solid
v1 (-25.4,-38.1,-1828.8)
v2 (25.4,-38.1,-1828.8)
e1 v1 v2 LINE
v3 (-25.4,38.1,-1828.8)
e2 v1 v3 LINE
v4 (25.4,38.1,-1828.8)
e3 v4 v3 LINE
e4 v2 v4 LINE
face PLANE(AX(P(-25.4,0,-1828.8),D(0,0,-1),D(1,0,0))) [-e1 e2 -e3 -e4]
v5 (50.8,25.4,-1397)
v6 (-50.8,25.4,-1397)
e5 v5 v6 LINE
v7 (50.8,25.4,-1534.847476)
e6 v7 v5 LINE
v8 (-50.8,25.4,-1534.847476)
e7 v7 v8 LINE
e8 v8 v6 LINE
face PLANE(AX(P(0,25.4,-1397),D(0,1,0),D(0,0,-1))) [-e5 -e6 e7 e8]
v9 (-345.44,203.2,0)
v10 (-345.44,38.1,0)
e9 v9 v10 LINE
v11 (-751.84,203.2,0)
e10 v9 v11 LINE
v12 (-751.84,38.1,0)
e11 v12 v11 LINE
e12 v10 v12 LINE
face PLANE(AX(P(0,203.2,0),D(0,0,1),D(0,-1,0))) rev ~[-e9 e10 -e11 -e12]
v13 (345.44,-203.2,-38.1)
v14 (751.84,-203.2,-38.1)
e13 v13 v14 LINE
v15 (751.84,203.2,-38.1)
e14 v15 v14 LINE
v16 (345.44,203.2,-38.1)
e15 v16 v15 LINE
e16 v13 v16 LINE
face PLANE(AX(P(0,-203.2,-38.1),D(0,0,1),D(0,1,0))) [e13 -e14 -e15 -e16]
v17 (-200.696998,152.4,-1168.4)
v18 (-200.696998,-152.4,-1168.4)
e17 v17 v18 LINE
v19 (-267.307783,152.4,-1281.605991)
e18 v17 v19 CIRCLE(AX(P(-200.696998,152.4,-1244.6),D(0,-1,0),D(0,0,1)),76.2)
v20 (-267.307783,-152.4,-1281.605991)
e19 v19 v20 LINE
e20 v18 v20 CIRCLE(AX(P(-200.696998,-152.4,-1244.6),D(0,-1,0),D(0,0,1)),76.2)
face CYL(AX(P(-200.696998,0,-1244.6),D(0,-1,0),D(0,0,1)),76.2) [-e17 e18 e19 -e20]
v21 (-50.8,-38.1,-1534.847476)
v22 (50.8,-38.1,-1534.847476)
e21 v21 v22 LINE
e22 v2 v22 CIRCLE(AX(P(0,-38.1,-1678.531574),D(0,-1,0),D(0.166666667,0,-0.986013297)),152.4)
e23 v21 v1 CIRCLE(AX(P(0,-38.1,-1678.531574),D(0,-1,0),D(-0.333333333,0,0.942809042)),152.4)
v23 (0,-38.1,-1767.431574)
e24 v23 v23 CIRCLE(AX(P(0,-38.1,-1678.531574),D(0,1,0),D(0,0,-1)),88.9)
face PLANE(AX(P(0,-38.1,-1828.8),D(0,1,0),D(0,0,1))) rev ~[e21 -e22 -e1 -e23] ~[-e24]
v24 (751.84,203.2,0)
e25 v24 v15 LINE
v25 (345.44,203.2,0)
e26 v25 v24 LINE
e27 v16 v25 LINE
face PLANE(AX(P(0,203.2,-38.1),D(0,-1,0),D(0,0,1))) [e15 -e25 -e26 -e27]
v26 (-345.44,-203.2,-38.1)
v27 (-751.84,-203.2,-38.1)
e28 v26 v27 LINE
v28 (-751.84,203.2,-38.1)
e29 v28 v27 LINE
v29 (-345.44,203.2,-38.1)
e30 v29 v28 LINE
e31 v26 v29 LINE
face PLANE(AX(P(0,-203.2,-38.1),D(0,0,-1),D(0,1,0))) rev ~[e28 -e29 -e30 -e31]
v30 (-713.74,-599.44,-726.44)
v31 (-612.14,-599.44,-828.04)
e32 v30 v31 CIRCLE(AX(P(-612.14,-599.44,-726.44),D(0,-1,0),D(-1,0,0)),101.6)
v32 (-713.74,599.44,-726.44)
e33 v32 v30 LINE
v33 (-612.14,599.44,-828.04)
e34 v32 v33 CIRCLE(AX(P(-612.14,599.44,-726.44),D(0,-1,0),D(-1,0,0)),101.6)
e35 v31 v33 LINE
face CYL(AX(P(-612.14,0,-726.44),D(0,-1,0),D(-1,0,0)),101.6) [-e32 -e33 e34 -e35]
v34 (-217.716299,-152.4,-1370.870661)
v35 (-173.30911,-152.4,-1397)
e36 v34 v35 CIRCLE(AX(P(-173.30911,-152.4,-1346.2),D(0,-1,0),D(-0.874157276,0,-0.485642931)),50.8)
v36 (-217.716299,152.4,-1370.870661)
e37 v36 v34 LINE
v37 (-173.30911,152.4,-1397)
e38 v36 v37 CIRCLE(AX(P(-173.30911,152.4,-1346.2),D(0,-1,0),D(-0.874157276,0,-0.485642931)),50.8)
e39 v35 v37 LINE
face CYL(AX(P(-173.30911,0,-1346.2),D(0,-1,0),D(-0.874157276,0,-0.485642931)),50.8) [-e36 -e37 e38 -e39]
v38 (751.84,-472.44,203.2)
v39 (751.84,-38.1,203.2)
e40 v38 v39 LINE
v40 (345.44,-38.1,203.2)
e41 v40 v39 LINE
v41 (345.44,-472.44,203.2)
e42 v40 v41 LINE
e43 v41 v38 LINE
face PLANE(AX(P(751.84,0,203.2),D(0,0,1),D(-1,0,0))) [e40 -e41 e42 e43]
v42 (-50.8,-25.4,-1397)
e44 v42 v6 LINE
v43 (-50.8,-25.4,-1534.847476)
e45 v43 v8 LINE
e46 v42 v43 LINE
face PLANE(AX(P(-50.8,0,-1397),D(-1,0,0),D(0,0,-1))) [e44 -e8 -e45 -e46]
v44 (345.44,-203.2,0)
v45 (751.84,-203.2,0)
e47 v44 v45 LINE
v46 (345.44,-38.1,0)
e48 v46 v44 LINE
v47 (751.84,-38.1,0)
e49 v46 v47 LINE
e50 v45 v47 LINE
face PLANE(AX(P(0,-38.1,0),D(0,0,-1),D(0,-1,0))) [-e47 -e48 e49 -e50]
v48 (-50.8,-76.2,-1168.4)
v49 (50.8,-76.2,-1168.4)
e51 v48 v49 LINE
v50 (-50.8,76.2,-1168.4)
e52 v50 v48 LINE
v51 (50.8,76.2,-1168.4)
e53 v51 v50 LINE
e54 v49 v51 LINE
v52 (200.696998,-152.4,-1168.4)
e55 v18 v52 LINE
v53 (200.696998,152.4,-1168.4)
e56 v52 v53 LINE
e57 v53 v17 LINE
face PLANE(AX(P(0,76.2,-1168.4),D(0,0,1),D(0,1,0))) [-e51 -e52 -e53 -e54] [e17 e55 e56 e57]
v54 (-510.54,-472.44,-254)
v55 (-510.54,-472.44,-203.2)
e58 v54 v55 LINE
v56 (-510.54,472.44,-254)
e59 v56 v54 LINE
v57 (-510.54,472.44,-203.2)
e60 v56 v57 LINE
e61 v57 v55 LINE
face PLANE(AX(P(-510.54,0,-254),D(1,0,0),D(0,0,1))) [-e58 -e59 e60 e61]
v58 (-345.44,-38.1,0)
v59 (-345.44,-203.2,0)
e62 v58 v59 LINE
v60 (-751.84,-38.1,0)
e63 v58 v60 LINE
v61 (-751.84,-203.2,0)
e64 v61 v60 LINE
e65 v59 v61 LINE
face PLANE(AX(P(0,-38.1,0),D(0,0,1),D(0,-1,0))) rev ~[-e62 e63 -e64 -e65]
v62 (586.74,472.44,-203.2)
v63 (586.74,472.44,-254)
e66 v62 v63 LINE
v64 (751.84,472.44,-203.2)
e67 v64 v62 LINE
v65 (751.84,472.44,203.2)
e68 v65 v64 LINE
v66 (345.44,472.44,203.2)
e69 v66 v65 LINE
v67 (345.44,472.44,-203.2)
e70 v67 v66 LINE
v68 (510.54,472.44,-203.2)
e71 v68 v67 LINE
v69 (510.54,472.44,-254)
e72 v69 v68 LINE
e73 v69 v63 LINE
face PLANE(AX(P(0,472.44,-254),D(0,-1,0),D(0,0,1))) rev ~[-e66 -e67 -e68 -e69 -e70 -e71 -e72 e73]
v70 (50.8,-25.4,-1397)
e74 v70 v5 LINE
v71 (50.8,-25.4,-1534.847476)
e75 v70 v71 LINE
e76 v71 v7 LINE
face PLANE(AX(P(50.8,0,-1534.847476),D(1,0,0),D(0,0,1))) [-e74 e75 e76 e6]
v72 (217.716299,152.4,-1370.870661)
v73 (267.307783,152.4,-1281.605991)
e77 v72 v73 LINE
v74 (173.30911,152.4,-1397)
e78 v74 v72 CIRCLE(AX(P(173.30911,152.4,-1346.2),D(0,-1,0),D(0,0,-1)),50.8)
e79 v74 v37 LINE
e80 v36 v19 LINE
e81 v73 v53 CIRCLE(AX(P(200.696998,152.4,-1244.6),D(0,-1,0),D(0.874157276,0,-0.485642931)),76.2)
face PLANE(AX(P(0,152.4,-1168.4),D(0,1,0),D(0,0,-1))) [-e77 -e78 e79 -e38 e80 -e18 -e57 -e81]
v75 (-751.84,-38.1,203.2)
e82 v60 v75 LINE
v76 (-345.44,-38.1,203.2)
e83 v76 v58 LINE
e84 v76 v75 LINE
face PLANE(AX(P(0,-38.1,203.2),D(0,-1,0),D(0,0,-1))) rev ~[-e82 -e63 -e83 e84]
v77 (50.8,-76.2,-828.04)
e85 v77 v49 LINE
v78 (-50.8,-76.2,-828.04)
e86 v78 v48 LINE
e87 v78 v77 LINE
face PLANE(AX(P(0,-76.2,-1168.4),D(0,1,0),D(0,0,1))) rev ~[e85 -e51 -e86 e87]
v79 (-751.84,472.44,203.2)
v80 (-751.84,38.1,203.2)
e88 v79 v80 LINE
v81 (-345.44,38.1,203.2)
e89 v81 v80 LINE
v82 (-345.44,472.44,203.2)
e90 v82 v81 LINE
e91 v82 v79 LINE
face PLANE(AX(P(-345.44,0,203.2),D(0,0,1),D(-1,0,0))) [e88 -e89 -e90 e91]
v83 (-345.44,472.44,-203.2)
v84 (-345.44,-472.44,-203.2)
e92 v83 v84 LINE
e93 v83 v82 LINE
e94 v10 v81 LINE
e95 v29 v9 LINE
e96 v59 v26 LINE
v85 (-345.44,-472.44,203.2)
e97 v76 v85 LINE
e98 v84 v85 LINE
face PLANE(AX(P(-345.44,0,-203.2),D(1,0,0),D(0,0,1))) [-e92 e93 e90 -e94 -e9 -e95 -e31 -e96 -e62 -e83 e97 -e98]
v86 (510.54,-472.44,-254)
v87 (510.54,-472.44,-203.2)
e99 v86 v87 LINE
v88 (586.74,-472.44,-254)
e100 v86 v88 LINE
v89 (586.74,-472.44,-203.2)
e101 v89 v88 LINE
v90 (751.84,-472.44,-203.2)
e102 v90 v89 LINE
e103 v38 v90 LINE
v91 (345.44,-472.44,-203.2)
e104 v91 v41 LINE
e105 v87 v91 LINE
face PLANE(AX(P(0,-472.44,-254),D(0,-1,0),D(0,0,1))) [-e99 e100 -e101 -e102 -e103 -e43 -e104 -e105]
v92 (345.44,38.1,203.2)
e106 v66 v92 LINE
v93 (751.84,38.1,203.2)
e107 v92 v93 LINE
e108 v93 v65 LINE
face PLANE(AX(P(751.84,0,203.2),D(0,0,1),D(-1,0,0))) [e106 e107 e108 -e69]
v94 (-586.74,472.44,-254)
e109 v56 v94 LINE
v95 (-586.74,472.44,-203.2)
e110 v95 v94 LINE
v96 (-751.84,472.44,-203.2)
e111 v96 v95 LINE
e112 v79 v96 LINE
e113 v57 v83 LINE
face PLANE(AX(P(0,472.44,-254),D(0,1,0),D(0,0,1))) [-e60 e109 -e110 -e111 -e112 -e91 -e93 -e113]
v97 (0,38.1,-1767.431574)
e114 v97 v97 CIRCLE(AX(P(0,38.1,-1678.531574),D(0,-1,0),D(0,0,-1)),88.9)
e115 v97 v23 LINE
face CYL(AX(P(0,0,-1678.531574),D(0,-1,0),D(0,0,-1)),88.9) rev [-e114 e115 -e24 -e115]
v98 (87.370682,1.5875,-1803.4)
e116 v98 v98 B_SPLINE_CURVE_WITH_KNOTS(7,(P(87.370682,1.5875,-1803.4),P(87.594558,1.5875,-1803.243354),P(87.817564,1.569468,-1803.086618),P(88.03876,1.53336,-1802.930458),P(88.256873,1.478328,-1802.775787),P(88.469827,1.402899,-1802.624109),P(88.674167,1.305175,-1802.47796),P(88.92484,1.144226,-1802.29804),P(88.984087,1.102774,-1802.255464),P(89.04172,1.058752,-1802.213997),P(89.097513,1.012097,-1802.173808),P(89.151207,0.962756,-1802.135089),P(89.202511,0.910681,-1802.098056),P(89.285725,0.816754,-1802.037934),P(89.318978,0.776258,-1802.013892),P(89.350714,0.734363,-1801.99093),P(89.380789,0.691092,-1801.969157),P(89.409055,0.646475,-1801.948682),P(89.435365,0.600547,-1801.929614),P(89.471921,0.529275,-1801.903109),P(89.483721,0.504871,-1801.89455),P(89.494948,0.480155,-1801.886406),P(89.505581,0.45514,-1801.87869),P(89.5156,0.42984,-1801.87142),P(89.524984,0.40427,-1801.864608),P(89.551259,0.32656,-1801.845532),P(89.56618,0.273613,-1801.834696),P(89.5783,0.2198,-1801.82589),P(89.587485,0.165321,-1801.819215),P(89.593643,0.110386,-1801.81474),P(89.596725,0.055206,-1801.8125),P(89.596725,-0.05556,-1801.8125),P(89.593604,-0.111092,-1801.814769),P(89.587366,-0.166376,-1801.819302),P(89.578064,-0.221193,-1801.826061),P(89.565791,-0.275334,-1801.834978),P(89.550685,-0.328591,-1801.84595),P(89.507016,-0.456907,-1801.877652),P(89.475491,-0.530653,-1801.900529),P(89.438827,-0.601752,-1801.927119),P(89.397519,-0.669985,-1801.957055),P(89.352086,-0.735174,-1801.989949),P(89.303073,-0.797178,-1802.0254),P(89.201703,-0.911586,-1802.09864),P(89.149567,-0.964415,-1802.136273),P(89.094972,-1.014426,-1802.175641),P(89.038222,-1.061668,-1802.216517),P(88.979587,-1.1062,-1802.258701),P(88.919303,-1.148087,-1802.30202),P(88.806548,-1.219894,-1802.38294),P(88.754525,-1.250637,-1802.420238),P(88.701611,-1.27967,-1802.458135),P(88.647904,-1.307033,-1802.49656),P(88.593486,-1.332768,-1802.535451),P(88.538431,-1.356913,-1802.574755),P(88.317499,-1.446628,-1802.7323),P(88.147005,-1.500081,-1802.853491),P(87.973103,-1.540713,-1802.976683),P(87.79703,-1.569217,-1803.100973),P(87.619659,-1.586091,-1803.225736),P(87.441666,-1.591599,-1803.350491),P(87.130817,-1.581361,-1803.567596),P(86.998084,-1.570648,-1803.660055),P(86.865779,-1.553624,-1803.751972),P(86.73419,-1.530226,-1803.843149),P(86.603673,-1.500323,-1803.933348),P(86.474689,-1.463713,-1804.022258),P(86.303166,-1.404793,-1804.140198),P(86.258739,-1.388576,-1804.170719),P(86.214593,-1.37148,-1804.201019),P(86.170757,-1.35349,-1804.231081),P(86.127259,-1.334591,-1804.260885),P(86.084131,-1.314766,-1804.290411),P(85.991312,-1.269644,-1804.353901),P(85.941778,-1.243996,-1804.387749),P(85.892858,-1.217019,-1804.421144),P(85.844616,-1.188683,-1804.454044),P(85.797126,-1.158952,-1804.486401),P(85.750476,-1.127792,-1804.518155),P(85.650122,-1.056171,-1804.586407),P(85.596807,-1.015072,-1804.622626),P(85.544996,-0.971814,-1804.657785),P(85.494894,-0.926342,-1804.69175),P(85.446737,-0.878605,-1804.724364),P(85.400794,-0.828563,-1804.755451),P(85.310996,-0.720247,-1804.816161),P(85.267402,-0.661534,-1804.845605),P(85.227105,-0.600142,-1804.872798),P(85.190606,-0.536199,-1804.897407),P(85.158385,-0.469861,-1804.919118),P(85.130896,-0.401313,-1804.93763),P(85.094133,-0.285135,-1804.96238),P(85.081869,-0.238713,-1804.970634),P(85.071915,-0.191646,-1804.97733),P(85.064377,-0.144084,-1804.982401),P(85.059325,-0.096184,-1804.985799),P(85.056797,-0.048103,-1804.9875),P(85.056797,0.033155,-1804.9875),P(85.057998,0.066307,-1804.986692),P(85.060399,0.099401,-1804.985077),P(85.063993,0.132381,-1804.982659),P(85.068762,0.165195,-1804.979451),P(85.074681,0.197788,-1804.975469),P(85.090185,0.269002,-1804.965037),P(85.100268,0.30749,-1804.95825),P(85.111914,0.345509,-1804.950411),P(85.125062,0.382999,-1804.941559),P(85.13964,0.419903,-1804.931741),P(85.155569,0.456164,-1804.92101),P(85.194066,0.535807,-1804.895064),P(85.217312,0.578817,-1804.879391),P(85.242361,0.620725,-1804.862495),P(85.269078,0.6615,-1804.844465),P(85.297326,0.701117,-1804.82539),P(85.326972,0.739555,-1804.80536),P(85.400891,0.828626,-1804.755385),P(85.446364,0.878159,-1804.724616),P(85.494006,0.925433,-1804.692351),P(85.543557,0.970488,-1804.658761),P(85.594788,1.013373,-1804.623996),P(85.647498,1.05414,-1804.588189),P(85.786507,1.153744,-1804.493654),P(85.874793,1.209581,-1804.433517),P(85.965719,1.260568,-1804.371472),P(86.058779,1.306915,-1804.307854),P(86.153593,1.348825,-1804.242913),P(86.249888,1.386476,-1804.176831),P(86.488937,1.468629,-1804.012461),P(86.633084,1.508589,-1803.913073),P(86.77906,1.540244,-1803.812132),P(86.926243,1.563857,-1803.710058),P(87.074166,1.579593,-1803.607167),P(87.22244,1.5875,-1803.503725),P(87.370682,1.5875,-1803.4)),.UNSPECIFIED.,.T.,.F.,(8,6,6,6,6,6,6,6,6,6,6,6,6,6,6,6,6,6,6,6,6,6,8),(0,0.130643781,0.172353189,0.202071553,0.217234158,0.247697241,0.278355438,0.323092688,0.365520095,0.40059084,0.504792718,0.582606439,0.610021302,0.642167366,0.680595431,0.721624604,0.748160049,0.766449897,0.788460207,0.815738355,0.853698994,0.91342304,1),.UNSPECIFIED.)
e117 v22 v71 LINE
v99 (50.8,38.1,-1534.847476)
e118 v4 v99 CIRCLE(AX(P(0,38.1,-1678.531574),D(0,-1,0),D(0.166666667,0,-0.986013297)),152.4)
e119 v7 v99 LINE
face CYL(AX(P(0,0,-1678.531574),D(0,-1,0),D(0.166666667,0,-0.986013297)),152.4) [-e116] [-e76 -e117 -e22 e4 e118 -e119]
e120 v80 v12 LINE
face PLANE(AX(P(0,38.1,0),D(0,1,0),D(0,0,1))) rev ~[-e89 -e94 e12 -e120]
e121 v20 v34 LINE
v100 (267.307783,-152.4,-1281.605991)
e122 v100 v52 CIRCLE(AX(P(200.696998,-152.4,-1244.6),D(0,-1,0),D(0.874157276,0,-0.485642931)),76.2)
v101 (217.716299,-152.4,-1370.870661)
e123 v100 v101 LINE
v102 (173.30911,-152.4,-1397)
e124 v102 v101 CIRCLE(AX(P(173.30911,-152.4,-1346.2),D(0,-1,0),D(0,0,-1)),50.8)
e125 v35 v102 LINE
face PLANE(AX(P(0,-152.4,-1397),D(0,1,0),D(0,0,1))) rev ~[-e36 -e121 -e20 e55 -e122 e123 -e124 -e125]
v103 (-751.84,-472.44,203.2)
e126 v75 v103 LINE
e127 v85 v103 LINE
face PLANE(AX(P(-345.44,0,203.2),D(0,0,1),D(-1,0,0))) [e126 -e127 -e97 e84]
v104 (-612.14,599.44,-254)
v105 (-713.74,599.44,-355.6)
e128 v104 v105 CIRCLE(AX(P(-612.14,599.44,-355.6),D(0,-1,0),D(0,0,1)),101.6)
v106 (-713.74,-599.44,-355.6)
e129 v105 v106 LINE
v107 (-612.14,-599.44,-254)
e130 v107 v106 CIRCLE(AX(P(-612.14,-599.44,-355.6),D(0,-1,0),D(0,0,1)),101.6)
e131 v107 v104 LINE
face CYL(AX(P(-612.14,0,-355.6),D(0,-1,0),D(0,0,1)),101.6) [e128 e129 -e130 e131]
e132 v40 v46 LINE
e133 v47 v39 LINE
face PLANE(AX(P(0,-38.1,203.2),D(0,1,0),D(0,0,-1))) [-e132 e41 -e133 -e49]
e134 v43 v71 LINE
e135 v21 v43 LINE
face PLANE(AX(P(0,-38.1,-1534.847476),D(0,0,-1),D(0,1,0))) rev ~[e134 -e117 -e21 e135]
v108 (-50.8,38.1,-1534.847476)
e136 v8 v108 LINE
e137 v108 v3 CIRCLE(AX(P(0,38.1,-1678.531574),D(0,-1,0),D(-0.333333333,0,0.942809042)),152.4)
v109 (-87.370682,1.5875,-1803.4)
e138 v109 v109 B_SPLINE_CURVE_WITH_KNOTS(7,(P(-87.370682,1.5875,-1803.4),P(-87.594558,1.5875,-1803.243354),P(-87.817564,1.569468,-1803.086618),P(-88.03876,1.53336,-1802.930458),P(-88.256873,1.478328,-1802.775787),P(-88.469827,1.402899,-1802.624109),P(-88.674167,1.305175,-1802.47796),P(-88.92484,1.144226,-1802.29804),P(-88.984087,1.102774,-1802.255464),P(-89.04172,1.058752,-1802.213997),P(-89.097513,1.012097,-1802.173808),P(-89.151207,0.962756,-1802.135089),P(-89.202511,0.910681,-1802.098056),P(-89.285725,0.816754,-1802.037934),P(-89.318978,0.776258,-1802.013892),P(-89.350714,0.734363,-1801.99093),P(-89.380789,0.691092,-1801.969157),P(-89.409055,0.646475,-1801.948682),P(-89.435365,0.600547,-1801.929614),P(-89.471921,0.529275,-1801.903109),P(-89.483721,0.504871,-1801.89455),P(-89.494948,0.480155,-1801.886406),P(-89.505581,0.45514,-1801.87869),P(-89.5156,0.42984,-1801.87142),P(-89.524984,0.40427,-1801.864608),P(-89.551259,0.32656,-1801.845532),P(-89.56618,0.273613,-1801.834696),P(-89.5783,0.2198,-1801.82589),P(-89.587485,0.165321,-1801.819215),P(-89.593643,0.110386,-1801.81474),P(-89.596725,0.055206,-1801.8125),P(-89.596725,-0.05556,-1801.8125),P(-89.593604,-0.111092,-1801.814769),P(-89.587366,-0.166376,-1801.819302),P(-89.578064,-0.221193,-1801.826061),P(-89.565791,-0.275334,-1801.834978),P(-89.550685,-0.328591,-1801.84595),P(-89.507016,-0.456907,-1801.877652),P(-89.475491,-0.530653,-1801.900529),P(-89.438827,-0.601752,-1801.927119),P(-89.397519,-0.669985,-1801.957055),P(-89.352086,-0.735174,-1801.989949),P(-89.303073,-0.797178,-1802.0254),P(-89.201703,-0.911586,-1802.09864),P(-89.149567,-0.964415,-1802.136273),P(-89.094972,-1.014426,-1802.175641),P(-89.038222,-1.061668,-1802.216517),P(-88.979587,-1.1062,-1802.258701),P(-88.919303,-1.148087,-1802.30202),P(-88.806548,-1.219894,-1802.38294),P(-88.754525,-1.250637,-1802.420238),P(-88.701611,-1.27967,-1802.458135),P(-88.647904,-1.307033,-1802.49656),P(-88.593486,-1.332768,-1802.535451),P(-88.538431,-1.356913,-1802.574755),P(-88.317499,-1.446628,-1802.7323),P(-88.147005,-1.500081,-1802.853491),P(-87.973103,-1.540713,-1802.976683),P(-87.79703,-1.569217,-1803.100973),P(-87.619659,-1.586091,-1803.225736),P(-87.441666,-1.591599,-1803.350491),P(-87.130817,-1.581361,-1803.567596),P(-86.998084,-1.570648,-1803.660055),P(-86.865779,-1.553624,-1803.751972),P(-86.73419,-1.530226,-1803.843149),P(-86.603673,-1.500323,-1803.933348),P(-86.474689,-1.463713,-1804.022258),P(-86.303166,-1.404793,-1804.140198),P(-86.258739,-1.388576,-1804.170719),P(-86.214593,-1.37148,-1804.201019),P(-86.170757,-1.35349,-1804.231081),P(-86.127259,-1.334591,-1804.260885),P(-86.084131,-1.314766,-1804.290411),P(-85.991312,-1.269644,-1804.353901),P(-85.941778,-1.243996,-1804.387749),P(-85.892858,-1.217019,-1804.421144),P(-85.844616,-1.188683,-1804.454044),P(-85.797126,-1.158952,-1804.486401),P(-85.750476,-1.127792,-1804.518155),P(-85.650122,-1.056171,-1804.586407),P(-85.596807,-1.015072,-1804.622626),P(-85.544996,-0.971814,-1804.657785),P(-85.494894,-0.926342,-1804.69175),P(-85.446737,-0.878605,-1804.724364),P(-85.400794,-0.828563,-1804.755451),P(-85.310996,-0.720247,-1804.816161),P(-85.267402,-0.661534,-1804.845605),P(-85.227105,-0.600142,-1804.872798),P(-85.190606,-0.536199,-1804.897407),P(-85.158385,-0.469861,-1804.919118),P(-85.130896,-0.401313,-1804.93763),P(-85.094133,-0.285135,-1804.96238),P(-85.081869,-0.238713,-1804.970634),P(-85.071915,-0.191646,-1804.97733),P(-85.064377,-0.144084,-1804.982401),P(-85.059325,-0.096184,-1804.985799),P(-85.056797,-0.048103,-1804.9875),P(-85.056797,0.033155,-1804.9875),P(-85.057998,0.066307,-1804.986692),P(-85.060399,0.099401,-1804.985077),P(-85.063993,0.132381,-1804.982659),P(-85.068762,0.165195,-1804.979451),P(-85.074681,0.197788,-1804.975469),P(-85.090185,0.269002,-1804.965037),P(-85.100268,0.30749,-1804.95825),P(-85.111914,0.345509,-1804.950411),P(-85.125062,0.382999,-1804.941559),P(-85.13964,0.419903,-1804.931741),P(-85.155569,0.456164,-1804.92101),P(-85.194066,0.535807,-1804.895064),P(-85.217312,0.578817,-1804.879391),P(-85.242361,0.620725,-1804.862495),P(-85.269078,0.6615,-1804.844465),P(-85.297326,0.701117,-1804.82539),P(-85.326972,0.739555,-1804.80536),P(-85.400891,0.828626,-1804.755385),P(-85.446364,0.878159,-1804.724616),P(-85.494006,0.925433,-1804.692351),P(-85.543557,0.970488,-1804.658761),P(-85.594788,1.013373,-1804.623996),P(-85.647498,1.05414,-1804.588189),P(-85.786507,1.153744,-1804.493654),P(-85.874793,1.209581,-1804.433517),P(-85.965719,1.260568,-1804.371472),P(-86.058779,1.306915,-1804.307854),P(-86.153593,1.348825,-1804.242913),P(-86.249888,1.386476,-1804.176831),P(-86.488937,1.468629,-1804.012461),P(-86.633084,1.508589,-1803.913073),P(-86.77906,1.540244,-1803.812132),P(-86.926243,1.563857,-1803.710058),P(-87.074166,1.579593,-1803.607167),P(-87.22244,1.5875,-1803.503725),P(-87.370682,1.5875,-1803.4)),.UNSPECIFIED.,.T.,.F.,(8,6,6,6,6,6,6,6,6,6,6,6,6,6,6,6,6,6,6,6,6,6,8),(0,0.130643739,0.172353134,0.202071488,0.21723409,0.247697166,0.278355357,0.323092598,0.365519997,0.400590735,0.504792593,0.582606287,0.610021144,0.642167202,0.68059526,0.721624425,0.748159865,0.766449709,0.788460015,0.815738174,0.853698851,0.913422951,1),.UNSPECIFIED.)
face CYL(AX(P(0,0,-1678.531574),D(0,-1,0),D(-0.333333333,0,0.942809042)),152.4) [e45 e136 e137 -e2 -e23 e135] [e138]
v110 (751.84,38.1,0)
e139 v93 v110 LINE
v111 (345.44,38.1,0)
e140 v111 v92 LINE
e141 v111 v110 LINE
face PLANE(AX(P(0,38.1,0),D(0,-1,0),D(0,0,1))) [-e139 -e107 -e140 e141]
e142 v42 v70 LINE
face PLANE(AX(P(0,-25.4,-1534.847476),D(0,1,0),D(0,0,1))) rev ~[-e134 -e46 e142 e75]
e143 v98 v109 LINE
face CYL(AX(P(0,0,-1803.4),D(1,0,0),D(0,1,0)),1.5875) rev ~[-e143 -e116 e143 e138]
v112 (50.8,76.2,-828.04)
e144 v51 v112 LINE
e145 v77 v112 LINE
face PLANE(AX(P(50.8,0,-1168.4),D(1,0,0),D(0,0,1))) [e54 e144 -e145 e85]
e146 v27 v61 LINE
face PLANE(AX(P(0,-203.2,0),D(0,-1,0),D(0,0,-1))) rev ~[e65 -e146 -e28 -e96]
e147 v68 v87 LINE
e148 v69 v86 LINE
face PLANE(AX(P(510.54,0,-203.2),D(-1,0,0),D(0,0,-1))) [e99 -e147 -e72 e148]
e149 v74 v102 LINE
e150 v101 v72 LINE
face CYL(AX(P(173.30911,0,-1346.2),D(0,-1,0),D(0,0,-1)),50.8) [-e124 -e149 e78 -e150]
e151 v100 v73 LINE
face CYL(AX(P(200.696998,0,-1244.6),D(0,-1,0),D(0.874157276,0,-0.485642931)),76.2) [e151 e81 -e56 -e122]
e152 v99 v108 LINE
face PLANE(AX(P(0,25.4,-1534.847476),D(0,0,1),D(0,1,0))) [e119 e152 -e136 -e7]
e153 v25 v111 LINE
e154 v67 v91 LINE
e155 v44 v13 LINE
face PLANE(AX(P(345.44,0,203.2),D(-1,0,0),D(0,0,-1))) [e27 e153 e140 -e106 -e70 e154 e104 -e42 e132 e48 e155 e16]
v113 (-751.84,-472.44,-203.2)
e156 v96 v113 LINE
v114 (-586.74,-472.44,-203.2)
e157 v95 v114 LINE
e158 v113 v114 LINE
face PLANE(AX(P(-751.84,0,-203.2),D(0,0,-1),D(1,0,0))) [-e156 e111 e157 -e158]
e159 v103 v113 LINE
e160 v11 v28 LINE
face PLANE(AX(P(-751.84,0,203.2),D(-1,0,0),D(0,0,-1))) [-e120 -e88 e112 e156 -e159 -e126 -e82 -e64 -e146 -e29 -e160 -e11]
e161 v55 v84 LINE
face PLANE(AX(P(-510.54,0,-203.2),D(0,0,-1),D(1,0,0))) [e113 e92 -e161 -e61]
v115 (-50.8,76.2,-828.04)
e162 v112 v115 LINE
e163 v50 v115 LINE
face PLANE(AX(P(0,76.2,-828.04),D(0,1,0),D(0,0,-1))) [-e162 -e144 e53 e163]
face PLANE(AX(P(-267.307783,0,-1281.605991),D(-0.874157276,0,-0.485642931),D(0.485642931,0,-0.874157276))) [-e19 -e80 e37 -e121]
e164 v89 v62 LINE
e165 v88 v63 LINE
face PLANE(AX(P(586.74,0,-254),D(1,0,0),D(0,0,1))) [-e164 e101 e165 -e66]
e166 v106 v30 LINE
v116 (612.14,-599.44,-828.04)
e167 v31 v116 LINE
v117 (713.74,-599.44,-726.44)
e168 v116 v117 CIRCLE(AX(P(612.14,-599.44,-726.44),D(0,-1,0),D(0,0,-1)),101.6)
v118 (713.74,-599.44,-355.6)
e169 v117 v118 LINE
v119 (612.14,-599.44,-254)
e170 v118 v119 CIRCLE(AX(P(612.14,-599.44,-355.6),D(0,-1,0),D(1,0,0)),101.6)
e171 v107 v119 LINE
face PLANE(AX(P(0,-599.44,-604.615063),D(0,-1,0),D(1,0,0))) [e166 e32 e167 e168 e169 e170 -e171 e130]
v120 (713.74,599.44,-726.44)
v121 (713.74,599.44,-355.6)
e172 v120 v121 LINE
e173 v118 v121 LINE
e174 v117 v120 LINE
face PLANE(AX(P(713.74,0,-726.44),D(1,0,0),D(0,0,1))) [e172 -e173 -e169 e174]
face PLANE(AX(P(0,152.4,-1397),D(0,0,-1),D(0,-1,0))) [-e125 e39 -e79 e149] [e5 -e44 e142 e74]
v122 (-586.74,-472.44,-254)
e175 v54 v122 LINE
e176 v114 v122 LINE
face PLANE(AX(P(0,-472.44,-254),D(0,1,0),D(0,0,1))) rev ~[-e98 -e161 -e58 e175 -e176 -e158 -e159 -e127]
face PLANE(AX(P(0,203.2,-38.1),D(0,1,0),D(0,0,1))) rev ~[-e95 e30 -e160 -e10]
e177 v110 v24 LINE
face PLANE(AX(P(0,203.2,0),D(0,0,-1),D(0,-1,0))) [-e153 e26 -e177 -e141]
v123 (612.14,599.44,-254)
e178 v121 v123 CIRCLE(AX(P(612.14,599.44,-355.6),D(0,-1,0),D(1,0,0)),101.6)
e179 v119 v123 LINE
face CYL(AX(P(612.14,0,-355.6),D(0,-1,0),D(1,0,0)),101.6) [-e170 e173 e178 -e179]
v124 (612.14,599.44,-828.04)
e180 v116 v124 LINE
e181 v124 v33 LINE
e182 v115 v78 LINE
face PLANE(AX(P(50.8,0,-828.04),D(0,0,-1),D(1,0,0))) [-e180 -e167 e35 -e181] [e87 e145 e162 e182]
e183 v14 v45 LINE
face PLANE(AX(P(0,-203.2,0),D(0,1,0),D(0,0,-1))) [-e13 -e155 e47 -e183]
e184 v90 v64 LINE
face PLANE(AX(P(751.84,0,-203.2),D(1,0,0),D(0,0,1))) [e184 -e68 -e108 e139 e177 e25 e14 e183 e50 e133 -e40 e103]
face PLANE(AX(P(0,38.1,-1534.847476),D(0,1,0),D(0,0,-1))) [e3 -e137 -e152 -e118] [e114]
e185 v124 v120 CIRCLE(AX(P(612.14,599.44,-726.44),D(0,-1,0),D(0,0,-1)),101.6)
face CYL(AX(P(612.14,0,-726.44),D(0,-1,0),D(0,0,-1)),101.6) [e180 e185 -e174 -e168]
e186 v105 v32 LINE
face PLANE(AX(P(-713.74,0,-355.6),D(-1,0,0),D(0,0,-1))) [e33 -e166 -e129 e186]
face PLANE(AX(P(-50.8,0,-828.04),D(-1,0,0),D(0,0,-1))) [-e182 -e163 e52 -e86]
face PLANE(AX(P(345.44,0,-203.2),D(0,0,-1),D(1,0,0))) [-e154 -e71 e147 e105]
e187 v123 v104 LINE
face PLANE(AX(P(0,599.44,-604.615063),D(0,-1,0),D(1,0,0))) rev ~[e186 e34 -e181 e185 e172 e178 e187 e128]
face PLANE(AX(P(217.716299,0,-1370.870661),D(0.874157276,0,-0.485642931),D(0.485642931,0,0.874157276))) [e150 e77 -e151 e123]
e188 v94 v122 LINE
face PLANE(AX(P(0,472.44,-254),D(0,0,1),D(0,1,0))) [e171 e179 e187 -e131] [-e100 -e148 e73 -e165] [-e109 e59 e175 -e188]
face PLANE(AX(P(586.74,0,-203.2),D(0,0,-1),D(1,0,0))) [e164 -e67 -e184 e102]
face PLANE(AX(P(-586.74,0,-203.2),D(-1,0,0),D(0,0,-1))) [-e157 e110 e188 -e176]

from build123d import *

# Parameters (mm, degrees)
F1_DEPTH      = 599.44
F2_W          = 127
F2_H          = 457.2
F2_R          = 1.5875
F3_DEPTH      = 751.841
F3_DEPTH_BACK = 751.841


with BuildPart() as f1:
    # F0 (on Front) → F1 (new body, symmetric)
    with BuildSketch(Plane.XZ):
        with BuildLine():
            Line((751.84, 203.2), (345.44, 203.2))
            Line((345.44, 203.2), (345.44, -203.2))
            Line((345.44, -203.2), (510.54, -203.2))
            Line((510.54, -203.2), (510.54, -254))
            Line((510.54, -254), (0, -254))
            Line((0, -254), (-510.54, -254))
            Line((-510.54, -254), (-510.54, -203.2))
            Line((-510.54, -203.2), (-345.44, -203.2))
            Line((-345.44, -203.2), (-345.44, 203.2))
            Line((-345.44, 203.2), (-751.84, 203.2))
            Line((-751.84, 203.2), (-751.84, -203.2))
            Line((-751.84, -203.2), (-586.74, -203.2))
            Line((-586.74, -203.2), (-586.74, -254))
            Line((-586.74, -254), (-612.14, -254))
            ThreePointArc((-612.14, -254), (-683.9820489686, -283.7579510314), (-713.74, -355.6))
            Line((-713.74, -355.6), (-713.74, -726.44))
            ThreePointArc((-713.74, -726.44), (-683.9820489686, -798.2820489686), (-612.14, -828.04))
            Line((-612.14, -828.04), (-50.8, -828.04))
            Line((-50.8, -828.04), (-50.8, -1168.4))
            Line((-50.8, -1168.4), (-200.6969981396, -1168.4))
            ThreePointArc((-200.6969981396, -1168.4), (-266.3715614854, -1205.9568669833), (-267.3077825801, -1281.6059913558))
            Line((-267.3077825801, -1281.6059913558), (-217.7162994978, -1370.8706609039))
            ThreePointArc((-217.7162994978, -1370.8706609039), (-199.0711985486, -1389.9830422305), (-173.3091098709, -1397))
            Line((-173.3091098709, -1397), (-50.8, -1397))
            Line((-50.8, -1397), (-50.8, -1534.8474755722))
            ThreePointArc((-50.8, -1534.8474755722), (-151.8342242526, -1691.6513427765), (-25.4, -1828.8))
            Line((-25.4, -1828.8), (25.4, -1828.8))
            ThreePointArc((25.4, -1828.8), (151.8342242526, -1691.6513427765), (50.8, -1534.8474755722))
            Line((50.8, -1534.8474755722), (50.8, -1397))
            Line((50.8, -1397), (173.3091098709, -1397))
            ThreePointArc((173.3091098709, -1397), (199.0711985486, -1389.9830422305), (217.7162994978, -1370.8706609039))
            Line((217.7162994978, -1370.8706609039), (267.3077825801, -1281.6059913558))
            ThreePointArc((267.3077825801, -1281.6059913558), (266.3715614854, -1205.9568669833), (200.6969981396, -1168.4))
            Line((200.6969981396, -1168.4), (50.8, -1168.4))
            Line((50.8, -1168.4), (50.8, -828.04))
            Line((50.8, -828.04), (612.14, -828.04))
            ThreePointArc((612.14, -828.04), (683.9820489686, -798.2820489686), (713.74, -726.44))
            Line((713.74, -726.44), (713.74, -355.6))
            ThreePointArc((713.74, -355.6), (683.9820489686, -283.7579510314), (612.14, -254))
            Line((612.14, -254), (586.74, -254))
            Line((586.74, -254), (586.74, -203.2))
            Line((586.74, -203.2), (751.84, -203.2))
            Line((751.84, -203.2), (751.84, 203.2))
        make_face()
        with BuildLine():
            ThreePointArc((0, -1589.6315735093), (88.9, -1678.5315735093), (0, -1767.4315735093))
            ThreePointArc((0, -1767.4315735093), (-88.9, -1678.5315735093), (0, -1589.6315735093))
        make_face(mode=Mode.SUBTRACT)
    extrude(amount=F1_DEPTH, both=True)

    # F2 (on Right) → F3 (cut, two sides)
    with BuildSketch(Plane.YZ) as f3_sk:
        with Locations((535.94, -25.4)):
            Rectangle(F2_W, F2_H)
        Polygon((599.44, -1828.8), (599.44, -828.04), (152.4, -828.04), (76.2, -828.04), (76.2, -1168.4), (152.4, -1168.4), (152.4, -1397), (25.4, -1397), (25.4, -1534.8474755722), (38.1, -1534.8474755722), (38.1, -1828.8), align=None)
        Polygon((203.2, 0), (38.1, 0), (38.1, 203.2), (0, 203.2), (-38.1, 203.2), (-38.1, 0), (-203.2, 0), (-203.2, -38.1), (0, -38.1), (203.2, -38.1), align=None)
        Polygon((-76.2, -828.04), (-152.4, -828.04), (-599.44, -828.04), (-599.44, -1828.8), (-38.1, -1828.8), (-38.1, -1534.8474755722), (-25.4, -1534.8474755722), (-25.4, -1397), (-152.4, -1397), (-152.4, -1168.4), (-76.2, -1168.4), align=None)
        with Locations((-535.94, -25.4)):
            Rectangle(F2_W, F2_H)
        with Locations((0, -1803.4)):
            Circle(F2_R)
    extrude(amount=-F3_DEPTH, mode=Mode.SUBTRACT)
    extrude(f3_sk.sketch, amount=F3_DEPTH_BACK, mode=Mode.SUBTRACT)


solid = f1.part
